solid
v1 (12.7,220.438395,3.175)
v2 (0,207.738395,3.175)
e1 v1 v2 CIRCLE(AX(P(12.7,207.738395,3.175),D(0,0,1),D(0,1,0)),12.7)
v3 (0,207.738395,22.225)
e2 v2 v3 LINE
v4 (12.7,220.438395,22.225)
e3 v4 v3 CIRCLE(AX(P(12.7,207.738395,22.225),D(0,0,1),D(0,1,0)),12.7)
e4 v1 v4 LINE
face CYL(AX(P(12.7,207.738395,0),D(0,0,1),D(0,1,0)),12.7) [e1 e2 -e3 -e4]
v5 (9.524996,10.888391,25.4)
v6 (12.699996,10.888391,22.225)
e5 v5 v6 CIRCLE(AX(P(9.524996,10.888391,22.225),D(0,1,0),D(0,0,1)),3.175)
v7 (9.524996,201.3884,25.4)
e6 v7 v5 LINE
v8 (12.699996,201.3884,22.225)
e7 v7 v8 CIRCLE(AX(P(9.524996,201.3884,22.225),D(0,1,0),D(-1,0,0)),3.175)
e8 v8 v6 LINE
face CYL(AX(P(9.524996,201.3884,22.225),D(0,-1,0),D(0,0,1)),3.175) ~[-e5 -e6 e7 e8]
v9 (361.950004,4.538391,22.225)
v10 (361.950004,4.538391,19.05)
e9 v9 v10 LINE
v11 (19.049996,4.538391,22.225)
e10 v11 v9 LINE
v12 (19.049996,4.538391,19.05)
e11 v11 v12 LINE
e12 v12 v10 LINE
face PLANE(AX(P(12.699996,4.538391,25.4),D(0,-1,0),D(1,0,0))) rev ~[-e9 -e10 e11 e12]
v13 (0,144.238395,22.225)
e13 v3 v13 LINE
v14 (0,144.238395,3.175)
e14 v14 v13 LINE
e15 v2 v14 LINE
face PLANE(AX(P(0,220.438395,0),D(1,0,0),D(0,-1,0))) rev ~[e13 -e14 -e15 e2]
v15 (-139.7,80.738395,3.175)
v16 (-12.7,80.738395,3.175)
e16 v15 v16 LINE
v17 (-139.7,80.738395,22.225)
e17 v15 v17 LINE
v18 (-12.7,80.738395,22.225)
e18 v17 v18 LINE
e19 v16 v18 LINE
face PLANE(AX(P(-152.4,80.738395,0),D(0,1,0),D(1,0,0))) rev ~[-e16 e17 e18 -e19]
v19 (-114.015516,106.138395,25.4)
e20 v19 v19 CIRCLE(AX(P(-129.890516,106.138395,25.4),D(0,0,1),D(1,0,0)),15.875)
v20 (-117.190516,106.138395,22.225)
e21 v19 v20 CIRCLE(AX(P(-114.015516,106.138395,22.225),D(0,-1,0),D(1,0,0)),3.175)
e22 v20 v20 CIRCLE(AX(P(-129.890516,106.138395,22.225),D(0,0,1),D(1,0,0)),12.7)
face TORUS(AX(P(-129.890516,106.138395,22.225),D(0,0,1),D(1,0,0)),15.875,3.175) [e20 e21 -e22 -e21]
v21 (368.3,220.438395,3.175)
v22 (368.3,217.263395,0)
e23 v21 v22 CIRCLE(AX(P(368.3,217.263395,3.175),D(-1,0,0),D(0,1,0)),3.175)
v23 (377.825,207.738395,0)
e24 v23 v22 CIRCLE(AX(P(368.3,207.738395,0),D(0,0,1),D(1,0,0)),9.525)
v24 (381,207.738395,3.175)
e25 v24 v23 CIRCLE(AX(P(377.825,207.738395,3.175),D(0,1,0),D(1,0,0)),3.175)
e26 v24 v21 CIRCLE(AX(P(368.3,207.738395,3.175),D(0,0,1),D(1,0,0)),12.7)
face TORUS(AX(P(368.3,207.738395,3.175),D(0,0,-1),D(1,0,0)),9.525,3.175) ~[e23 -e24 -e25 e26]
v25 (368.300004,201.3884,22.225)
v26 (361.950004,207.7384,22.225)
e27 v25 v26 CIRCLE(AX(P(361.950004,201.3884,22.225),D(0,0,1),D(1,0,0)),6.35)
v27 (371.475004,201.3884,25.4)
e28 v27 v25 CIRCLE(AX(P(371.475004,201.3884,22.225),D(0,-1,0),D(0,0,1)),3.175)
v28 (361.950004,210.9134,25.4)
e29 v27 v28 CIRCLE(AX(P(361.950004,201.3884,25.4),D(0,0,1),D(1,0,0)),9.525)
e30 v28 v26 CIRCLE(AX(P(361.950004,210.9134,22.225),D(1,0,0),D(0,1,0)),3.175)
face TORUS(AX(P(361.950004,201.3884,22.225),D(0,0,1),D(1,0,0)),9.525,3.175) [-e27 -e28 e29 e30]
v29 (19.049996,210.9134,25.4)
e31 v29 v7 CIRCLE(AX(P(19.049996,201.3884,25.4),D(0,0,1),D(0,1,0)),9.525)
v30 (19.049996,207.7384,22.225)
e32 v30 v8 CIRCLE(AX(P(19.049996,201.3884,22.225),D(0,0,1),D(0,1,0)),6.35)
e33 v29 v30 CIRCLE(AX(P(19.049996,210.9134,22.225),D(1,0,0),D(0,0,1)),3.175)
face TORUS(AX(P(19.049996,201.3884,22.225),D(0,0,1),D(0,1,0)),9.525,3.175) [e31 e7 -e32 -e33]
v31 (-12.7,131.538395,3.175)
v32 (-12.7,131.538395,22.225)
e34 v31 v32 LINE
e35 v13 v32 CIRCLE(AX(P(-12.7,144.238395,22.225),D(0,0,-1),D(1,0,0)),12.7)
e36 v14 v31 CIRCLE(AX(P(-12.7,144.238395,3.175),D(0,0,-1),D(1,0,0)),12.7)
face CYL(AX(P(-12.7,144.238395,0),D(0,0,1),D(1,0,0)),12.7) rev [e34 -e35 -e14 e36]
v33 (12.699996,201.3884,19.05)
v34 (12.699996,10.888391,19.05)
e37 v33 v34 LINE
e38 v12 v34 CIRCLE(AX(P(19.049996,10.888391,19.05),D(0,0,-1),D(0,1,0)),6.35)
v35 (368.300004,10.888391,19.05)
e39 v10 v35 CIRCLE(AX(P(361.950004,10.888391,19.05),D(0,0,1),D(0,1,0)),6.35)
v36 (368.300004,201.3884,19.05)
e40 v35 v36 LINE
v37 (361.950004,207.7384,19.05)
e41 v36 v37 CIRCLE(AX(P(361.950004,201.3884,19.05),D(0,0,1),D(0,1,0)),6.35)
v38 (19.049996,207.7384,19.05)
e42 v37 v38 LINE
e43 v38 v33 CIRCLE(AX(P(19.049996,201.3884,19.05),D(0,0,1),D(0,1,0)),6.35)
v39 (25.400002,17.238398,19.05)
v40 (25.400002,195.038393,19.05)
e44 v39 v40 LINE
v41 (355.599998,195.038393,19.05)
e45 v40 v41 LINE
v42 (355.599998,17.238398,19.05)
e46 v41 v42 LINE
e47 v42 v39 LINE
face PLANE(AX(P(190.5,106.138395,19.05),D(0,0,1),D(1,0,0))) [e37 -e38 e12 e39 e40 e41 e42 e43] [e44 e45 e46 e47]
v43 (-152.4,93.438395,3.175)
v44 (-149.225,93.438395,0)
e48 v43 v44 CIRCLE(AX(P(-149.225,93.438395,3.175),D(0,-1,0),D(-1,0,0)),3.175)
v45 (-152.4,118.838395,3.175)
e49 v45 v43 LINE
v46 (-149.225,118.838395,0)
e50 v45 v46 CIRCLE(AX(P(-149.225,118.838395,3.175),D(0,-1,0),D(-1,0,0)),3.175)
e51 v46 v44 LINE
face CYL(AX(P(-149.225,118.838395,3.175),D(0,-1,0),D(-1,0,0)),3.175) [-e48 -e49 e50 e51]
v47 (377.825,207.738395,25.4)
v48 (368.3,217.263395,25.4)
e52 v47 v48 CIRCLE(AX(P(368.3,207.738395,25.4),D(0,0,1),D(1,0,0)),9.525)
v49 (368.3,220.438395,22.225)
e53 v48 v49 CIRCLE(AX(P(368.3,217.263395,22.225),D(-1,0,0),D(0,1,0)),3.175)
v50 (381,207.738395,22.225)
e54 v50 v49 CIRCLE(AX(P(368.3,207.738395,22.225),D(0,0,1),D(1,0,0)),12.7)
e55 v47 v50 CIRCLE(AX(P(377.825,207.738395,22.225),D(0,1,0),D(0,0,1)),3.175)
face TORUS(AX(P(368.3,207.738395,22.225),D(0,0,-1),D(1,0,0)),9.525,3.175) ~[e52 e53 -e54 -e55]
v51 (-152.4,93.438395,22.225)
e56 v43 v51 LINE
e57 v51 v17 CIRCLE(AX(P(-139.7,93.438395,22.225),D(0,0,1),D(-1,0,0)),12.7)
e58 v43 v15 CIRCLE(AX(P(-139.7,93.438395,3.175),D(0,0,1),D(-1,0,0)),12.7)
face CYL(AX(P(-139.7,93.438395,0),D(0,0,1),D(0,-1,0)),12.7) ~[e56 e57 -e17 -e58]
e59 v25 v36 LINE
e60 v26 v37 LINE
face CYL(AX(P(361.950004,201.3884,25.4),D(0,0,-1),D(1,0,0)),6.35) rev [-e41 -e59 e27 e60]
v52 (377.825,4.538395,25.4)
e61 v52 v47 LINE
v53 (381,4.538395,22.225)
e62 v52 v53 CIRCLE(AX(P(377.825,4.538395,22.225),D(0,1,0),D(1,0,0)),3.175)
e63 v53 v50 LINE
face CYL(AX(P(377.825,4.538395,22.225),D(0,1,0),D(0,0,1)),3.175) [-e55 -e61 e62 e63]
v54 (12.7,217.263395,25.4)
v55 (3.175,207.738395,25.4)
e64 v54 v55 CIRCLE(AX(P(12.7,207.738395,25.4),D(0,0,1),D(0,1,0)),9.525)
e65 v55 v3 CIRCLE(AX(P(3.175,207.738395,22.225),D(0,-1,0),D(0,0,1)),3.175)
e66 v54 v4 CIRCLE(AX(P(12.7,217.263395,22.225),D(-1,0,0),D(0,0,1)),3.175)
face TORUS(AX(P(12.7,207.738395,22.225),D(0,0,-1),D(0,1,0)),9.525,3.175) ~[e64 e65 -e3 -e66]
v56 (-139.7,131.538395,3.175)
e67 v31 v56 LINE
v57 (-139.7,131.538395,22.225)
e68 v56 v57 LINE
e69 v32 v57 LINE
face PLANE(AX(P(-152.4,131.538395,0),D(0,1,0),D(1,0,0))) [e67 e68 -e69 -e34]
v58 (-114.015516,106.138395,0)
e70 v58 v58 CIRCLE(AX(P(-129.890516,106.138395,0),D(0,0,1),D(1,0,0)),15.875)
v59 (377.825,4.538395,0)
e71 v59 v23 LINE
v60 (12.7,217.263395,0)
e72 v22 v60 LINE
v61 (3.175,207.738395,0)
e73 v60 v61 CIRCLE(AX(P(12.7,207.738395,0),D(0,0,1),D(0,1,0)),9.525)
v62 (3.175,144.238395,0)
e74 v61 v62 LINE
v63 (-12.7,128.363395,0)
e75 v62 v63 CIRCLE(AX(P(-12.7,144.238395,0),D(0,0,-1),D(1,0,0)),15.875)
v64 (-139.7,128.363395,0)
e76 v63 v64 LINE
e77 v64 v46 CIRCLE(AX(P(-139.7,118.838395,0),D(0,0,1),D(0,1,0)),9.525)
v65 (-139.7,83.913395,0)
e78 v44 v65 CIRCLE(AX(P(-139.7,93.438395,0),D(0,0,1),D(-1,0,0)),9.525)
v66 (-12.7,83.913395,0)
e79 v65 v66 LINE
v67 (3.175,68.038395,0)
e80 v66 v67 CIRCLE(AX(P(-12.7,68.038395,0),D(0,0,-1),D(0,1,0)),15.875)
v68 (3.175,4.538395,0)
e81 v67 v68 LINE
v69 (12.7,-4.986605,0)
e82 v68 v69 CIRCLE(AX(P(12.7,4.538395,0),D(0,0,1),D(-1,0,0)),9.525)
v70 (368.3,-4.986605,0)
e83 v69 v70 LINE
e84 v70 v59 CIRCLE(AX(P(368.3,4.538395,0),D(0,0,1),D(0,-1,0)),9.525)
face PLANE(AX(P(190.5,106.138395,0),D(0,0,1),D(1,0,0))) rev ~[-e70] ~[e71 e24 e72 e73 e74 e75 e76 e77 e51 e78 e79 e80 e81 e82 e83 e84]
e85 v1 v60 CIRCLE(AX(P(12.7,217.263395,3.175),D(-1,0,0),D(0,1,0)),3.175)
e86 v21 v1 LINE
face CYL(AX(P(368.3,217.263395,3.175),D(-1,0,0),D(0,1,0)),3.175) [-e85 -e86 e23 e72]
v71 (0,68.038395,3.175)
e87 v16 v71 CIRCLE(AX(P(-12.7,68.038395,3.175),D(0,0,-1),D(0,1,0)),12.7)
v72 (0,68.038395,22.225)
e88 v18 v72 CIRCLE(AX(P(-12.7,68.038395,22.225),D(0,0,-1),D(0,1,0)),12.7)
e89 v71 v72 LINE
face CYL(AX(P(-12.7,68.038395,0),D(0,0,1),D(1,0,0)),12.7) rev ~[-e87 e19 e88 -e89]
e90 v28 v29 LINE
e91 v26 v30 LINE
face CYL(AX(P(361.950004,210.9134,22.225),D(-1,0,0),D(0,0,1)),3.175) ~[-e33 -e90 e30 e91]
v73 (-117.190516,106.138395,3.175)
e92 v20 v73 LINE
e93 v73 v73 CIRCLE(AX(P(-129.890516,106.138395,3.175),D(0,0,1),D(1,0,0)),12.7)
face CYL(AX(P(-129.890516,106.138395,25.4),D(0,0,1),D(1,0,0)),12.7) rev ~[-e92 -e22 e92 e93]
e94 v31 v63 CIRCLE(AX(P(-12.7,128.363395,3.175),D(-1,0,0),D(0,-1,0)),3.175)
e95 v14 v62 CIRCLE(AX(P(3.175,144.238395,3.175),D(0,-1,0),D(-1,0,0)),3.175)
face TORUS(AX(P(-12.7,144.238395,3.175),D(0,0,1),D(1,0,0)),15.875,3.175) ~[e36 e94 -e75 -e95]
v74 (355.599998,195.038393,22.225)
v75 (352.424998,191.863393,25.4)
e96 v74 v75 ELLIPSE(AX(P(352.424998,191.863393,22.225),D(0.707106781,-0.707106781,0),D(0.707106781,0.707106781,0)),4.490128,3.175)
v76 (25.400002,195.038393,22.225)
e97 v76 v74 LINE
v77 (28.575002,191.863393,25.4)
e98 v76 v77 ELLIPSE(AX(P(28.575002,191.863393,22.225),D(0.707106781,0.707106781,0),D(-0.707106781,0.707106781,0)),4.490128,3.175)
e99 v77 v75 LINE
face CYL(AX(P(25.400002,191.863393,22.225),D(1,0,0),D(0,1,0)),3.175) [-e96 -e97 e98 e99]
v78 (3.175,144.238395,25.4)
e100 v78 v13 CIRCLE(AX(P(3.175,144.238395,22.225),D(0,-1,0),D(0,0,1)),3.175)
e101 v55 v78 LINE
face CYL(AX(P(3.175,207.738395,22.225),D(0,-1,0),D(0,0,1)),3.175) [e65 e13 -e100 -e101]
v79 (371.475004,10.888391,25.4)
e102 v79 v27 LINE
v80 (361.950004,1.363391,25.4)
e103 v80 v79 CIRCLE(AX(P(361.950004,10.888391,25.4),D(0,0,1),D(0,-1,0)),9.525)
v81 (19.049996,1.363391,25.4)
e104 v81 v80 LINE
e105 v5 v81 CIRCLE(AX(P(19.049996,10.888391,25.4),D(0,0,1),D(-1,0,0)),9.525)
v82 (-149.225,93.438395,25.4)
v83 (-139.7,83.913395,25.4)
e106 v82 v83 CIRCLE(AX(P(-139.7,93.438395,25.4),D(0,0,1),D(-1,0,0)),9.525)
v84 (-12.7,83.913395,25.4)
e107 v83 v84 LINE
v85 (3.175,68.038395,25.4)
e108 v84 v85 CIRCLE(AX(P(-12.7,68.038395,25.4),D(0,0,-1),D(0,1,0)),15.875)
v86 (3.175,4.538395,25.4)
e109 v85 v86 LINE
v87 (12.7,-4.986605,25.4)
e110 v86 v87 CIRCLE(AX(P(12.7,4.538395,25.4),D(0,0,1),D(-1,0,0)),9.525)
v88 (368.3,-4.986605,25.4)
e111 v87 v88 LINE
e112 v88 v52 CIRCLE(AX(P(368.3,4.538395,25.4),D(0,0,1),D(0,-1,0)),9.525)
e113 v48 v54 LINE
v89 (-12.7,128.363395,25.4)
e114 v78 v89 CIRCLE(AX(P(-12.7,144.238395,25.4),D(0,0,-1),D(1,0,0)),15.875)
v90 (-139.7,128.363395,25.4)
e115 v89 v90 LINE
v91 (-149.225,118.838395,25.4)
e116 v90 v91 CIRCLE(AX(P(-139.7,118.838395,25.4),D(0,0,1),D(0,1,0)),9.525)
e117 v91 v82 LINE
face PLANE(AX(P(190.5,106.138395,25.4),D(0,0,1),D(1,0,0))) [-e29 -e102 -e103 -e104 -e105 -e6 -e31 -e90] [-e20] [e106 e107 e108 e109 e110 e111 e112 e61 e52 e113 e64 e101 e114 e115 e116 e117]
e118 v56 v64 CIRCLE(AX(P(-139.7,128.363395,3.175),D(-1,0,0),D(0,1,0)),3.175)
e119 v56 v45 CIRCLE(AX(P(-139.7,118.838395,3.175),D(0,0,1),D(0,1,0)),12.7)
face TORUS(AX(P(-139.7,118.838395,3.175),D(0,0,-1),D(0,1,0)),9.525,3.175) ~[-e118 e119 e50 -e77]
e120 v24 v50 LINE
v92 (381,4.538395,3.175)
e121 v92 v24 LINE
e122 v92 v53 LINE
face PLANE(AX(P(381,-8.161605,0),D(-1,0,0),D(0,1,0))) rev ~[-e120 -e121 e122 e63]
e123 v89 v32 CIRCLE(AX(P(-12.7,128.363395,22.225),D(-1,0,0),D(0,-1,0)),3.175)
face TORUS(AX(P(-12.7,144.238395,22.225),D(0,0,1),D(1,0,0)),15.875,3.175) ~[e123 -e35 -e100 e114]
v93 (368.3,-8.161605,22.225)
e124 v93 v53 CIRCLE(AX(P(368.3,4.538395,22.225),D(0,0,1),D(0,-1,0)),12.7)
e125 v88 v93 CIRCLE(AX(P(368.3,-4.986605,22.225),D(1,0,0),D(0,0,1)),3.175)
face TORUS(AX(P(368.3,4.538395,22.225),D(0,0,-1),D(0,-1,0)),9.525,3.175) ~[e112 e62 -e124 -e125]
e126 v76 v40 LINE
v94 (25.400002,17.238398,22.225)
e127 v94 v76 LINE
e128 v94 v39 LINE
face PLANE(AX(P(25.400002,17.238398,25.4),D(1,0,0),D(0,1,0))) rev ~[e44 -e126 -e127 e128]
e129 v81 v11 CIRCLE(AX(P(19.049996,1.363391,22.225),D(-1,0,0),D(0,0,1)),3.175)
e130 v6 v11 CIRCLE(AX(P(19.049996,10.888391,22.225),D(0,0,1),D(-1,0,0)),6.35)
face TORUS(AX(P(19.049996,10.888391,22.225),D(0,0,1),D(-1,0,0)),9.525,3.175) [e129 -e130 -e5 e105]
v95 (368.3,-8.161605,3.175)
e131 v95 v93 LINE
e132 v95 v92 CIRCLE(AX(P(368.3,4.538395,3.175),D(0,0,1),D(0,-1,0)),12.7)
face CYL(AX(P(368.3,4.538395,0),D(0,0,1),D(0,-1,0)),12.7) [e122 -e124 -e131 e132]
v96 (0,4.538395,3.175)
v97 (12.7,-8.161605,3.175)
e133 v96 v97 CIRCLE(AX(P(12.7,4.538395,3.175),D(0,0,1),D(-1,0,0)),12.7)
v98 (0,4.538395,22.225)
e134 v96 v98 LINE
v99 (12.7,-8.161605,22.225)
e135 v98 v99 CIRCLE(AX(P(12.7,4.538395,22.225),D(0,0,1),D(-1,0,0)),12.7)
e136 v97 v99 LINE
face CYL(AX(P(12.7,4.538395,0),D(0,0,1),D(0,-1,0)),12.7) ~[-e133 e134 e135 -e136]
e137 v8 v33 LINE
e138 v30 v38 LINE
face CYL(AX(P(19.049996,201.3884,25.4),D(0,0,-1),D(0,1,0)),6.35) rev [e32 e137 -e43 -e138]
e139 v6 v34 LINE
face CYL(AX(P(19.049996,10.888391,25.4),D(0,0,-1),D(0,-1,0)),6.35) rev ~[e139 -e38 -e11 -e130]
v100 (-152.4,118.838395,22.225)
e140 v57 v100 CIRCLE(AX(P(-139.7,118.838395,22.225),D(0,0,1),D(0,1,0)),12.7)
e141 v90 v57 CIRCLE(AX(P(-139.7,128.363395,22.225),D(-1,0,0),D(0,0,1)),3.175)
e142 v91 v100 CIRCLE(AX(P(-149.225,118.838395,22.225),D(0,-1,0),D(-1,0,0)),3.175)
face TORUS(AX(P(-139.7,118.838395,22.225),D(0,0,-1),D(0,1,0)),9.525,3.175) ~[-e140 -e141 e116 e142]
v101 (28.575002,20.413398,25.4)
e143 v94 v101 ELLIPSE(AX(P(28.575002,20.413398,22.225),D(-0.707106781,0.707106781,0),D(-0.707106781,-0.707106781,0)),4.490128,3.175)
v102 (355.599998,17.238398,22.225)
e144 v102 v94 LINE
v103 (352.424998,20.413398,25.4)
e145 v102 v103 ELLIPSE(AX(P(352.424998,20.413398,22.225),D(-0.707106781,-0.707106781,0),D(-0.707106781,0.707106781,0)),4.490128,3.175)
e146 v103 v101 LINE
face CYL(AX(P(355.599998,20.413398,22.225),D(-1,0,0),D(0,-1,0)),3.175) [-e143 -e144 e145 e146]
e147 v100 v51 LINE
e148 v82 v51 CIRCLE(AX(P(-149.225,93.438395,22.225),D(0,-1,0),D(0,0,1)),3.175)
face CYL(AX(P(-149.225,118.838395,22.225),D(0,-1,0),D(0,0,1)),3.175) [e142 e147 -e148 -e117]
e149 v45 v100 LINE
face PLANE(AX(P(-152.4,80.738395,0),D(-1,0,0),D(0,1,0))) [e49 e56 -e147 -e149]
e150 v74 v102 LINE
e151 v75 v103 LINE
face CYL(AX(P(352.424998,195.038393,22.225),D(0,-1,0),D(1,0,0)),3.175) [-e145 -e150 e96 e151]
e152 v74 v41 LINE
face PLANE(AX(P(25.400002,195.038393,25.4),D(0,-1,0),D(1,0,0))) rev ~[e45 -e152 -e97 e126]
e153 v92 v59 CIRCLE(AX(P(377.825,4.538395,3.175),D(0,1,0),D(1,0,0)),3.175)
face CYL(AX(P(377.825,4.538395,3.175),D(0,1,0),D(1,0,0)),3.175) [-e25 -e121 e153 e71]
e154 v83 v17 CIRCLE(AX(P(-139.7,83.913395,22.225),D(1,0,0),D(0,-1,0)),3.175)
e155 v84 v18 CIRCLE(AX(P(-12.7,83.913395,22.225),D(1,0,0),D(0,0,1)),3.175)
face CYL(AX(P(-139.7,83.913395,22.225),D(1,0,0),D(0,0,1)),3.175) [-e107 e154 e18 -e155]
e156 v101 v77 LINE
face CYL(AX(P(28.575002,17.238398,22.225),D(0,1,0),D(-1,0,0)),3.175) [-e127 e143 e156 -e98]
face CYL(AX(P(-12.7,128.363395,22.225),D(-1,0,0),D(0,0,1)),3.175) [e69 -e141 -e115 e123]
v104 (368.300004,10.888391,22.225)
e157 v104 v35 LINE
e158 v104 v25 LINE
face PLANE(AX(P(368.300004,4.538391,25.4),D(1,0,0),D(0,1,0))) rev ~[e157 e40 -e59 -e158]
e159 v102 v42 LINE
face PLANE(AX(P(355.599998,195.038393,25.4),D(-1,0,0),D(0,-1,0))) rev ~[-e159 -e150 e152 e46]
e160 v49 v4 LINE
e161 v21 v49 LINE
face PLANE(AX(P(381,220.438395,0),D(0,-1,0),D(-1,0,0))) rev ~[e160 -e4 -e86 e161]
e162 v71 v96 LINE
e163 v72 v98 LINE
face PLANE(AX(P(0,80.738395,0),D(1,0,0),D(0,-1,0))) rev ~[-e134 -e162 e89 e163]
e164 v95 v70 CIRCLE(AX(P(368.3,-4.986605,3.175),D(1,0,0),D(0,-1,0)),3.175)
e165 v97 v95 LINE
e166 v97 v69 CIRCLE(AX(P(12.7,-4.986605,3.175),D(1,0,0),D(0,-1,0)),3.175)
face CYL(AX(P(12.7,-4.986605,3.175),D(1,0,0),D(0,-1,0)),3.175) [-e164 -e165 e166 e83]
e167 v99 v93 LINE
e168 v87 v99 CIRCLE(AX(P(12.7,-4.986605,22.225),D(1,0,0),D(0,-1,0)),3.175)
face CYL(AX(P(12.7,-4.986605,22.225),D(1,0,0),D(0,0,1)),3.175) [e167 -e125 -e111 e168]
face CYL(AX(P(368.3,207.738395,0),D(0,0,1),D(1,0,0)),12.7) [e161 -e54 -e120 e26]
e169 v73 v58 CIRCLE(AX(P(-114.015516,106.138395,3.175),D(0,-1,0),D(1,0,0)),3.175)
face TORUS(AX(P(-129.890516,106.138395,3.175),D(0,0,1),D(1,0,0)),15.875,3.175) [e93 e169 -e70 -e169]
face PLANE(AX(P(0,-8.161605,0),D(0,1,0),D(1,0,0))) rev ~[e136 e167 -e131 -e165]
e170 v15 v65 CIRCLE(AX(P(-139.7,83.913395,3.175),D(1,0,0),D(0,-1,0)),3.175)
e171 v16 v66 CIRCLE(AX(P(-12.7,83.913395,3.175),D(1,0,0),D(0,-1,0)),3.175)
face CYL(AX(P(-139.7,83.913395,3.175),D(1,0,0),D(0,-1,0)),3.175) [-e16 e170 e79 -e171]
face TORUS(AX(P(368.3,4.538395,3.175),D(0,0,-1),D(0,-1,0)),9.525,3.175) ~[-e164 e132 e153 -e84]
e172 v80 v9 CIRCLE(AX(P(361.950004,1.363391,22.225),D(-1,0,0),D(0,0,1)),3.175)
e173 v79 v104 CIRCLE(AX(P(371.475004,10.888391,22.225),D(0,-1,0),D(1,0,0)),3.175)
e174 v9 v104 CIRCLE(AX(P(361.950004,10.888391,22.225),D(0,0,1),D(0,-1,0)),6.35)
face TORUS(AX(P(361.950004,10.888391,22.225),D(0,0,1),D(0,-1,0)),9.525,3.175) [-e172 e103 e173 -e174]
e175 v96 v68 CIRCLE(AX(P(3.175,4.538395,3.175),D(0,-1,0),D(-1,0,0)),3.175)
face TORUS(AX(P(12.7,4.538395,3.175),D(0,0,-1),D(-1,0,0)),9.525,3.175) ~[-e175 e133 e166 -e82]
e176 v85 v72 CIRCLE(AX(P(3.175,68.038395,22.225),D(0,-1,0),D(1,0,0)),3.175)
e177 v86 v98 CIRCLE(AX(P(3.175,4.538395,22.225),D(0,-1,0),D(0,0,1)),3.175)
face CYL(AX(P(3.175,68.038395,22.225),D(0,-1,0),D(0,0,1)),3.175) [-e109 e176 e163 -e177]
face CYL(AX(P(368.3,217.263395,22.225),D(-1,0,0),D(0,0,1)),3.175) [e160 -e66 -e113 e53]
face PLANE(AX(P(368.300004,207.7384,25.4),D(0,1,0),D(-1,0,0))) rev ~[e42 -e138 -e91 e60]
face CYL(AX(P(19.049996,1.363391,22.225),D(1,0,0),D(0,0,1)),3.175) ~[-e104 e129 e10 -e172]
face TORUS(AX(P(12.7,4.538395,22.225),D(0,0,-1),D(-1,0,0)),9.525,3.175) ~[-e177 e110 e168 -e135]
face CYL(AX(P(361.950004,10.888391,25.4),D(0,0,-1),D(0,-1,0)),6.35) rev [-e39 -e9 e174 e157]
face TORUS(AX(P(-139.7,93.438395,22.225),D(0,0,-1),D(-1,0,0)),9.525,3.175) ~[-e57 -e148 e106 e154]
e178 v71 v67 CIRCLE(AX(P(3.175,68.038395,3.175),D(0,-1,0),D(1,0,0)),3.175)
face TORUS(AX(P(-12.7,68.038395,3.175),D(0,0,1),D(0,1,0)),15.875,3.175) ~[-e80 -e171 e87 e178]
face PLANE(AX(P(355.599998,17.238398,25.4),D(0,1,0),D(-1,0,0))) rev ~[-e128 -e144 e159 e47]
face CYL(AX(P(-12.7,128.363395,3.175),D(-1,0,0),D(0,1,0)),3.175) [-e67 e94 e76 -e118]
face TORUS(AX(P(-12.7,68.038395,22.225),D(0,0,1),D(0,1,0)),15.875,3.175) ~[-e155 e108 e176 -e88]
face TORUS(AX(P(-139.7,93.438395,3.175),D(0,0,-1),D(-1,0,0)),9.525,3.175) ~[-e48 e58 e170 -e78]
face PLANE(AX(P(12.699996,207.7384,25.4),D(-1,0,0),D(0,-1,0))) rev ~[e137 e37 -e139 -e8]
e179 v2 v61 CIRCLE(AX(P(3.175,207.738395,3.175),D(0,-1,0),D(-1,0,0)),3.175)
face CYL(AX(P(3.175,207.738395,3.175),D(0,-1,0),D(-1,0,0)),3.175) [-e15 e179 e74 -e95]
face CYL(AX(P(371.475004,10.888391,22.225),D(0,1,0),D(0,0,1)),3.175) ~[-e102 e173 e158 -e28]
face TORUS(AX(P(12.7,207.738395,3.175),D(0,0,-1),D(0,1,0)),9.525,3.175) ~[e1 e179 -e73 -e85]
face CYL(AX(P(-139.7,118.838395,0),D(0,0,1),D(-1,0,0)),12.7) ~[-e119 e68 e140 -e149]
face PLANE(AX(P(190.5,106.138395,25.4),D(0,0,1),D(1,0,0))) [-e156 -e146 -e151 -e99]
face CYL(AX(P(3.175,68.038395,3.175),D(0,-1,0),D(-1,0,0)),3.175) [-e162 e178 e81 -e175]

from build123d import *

# Parameters (mm, degrees)
F0_W     = 152.4
F0_H     = 50.8
F1_DEPTH = 25.4
F2_R     = 12.7
F3_DEPTH = 25.4
F5_DEPTH = 6.35
F6_R     = 6.35
F7_R     = 12.7
F8_R     = 3.175


with BuildPart() as f1:
    # F0 (on Top) → F1 (new body)
    with BuildSketch(Plane.XY):
        Polygon((0, 80.7383954525), (0, -8.1616045475), (381, -8.1616045475), (381, 220.4383954525), (0, 220.4383954525), (0, 131.5383954525), align=None)
        with Locations((-76.2, 106.1383954525)):
            Rectangle(F0_W, F0_H)
    extrude(amount=F1_DEPTH)

    # F2 (on face) → F3 (cut)
    with BuildSketch(Plane.XY.offset(25.4)):
        with Locations((-129.8905164003, 106.1383954525)):
            Circle(F2_R)
    extrude(amount=-F3_DEPTH, mode=Mode.SUBTRACT)

    # F4 (on face) → F5 (cut)
    with BuildSketch(Plane.XY.offset(25.4)):
        Polygon((12.6999959469, 80.7383954525), (12.6999959469, 4.5383913994), (368.3000040531, 4.5383913994), (368.3000040531, 207.7383995056), (12.6999959469, 207.7383995056), (12.6999959469, 131.5383954525), align=None)
        Polygon((25.4000023127, 80.7383954525), (25.4000023127, 131.5383954525), (25.4000023127, 195.0383931398), (355.5999976873, 195.0383931398), (355.5999976873, 17.2383977652), (25.4000023127, 17.2383977652), align=None, mode=Mode.SUBTRACT)
    extrude(amount=-F5_DEPTH, mode=Mode.SUBTRACT)

    # F6
    f6_edges = [f1.edges().sort_by_distance(p)[0] for p in [
        (12.699996, 207.7384, 22.225),
        (368.300004, 207.7384, 22.225),
        (12.699996, 4.538391, 22.225),
        (368.300004, 4.538391, 22.225),
    ]]
    fillet(f6_edges, radius=F6_R)

    # F7
    f7_edges = [f1.edges().sort_by_distance(p)[0] for p in [
        (0, -8.161605, 12.7),
        (0, 80.738395, 12.7),
        (-152.4, 80.738395, 12.7),
        (-152.4, 131.538395, 12.7),
        (0, 131.538395, 12.7),
        (0, 220.438395, 12.7),
        (381, 220.438395, 12.7),
        (381, -8.161605, 12.7),
    ]]
    fillet(f7_edges, radius=F7_R)

    # F8
    f8_edges = [f1.edges().sort_by_distance(p)[0] for p in [
        (190.5, 17.238398, 25.4),
        (25.400002, 106.138395, 25.4),
        (190.5, 195.038393, 25.4),
        (355.599998, 106.138395, 25.4),
        (0, 175.988395, 25.4),
        (3.719744, 216.718652, 25.4),
        (-3.719744, 135.258139, 25.4),
        (190.5, 220.438395, 25.4),
        (-76.2, 131.538395, 25.4),
        (377.280256, 216.718652, 25.4),
        (-148.680256, 127.818652, 25.4),
        (381, 106.138395, 25.4),
        (-152.4, 106.138395, 25.4),
        (377.280256, -4.441861, 25.4),
        (-148.680256, 84.458139, 25.4),
        (190.5, -8.161605, 25.4),
        (-76.2, 80.738395, 25.4),
        (3.719744, -4.441861, 25.4),
        (-3.719744, 77.018652, 25.4),
        (0, 36.288395, 25.4),
        (190.5, 4.538391, 25.4),
        (14.559868, 6.398263, 25.4),
        (366.440132, 6.398263, 25.4),
        (12.699996, 106.138395, 25.4),
        (368.300004, 106.138395, 25.4),
        (14.559868, 205.878528, 25.4),
        (366.440132, 205.878528, 25.4),
        (190.5, 207.7384, 25.4),
        (-142.590516, 106.138395, 25.4),
        (0, 175.988395, 0),
        (3.719744, 216.718652, 0),
        (-3.719744, 135.258139, 0),
        (190.5, 220.438395, 0),
        (-76.2, 131.538395, 0),
        (377.280256, 216.718652, 0),
        (-148.680256, 127.818652, 0),
        (381, 106.138395, 0),
        (-152.4, 106.138395, 0),
        (377.280256, -4.441861, 0),
        (-148.680256, 84.458139, 0),
        (190.5, -8.161605, 0),
        (-76.2, 80.738395, 0),
        (3.719744, -4.441861, 0),
        (-3.719744, 77.018652, 0),
        (0, 36.288395, 0),
        (-142.590516, 106.138395, 0),
    ]]
    fillet(f8_edges, radius=F8_R)


solid = f1.part
